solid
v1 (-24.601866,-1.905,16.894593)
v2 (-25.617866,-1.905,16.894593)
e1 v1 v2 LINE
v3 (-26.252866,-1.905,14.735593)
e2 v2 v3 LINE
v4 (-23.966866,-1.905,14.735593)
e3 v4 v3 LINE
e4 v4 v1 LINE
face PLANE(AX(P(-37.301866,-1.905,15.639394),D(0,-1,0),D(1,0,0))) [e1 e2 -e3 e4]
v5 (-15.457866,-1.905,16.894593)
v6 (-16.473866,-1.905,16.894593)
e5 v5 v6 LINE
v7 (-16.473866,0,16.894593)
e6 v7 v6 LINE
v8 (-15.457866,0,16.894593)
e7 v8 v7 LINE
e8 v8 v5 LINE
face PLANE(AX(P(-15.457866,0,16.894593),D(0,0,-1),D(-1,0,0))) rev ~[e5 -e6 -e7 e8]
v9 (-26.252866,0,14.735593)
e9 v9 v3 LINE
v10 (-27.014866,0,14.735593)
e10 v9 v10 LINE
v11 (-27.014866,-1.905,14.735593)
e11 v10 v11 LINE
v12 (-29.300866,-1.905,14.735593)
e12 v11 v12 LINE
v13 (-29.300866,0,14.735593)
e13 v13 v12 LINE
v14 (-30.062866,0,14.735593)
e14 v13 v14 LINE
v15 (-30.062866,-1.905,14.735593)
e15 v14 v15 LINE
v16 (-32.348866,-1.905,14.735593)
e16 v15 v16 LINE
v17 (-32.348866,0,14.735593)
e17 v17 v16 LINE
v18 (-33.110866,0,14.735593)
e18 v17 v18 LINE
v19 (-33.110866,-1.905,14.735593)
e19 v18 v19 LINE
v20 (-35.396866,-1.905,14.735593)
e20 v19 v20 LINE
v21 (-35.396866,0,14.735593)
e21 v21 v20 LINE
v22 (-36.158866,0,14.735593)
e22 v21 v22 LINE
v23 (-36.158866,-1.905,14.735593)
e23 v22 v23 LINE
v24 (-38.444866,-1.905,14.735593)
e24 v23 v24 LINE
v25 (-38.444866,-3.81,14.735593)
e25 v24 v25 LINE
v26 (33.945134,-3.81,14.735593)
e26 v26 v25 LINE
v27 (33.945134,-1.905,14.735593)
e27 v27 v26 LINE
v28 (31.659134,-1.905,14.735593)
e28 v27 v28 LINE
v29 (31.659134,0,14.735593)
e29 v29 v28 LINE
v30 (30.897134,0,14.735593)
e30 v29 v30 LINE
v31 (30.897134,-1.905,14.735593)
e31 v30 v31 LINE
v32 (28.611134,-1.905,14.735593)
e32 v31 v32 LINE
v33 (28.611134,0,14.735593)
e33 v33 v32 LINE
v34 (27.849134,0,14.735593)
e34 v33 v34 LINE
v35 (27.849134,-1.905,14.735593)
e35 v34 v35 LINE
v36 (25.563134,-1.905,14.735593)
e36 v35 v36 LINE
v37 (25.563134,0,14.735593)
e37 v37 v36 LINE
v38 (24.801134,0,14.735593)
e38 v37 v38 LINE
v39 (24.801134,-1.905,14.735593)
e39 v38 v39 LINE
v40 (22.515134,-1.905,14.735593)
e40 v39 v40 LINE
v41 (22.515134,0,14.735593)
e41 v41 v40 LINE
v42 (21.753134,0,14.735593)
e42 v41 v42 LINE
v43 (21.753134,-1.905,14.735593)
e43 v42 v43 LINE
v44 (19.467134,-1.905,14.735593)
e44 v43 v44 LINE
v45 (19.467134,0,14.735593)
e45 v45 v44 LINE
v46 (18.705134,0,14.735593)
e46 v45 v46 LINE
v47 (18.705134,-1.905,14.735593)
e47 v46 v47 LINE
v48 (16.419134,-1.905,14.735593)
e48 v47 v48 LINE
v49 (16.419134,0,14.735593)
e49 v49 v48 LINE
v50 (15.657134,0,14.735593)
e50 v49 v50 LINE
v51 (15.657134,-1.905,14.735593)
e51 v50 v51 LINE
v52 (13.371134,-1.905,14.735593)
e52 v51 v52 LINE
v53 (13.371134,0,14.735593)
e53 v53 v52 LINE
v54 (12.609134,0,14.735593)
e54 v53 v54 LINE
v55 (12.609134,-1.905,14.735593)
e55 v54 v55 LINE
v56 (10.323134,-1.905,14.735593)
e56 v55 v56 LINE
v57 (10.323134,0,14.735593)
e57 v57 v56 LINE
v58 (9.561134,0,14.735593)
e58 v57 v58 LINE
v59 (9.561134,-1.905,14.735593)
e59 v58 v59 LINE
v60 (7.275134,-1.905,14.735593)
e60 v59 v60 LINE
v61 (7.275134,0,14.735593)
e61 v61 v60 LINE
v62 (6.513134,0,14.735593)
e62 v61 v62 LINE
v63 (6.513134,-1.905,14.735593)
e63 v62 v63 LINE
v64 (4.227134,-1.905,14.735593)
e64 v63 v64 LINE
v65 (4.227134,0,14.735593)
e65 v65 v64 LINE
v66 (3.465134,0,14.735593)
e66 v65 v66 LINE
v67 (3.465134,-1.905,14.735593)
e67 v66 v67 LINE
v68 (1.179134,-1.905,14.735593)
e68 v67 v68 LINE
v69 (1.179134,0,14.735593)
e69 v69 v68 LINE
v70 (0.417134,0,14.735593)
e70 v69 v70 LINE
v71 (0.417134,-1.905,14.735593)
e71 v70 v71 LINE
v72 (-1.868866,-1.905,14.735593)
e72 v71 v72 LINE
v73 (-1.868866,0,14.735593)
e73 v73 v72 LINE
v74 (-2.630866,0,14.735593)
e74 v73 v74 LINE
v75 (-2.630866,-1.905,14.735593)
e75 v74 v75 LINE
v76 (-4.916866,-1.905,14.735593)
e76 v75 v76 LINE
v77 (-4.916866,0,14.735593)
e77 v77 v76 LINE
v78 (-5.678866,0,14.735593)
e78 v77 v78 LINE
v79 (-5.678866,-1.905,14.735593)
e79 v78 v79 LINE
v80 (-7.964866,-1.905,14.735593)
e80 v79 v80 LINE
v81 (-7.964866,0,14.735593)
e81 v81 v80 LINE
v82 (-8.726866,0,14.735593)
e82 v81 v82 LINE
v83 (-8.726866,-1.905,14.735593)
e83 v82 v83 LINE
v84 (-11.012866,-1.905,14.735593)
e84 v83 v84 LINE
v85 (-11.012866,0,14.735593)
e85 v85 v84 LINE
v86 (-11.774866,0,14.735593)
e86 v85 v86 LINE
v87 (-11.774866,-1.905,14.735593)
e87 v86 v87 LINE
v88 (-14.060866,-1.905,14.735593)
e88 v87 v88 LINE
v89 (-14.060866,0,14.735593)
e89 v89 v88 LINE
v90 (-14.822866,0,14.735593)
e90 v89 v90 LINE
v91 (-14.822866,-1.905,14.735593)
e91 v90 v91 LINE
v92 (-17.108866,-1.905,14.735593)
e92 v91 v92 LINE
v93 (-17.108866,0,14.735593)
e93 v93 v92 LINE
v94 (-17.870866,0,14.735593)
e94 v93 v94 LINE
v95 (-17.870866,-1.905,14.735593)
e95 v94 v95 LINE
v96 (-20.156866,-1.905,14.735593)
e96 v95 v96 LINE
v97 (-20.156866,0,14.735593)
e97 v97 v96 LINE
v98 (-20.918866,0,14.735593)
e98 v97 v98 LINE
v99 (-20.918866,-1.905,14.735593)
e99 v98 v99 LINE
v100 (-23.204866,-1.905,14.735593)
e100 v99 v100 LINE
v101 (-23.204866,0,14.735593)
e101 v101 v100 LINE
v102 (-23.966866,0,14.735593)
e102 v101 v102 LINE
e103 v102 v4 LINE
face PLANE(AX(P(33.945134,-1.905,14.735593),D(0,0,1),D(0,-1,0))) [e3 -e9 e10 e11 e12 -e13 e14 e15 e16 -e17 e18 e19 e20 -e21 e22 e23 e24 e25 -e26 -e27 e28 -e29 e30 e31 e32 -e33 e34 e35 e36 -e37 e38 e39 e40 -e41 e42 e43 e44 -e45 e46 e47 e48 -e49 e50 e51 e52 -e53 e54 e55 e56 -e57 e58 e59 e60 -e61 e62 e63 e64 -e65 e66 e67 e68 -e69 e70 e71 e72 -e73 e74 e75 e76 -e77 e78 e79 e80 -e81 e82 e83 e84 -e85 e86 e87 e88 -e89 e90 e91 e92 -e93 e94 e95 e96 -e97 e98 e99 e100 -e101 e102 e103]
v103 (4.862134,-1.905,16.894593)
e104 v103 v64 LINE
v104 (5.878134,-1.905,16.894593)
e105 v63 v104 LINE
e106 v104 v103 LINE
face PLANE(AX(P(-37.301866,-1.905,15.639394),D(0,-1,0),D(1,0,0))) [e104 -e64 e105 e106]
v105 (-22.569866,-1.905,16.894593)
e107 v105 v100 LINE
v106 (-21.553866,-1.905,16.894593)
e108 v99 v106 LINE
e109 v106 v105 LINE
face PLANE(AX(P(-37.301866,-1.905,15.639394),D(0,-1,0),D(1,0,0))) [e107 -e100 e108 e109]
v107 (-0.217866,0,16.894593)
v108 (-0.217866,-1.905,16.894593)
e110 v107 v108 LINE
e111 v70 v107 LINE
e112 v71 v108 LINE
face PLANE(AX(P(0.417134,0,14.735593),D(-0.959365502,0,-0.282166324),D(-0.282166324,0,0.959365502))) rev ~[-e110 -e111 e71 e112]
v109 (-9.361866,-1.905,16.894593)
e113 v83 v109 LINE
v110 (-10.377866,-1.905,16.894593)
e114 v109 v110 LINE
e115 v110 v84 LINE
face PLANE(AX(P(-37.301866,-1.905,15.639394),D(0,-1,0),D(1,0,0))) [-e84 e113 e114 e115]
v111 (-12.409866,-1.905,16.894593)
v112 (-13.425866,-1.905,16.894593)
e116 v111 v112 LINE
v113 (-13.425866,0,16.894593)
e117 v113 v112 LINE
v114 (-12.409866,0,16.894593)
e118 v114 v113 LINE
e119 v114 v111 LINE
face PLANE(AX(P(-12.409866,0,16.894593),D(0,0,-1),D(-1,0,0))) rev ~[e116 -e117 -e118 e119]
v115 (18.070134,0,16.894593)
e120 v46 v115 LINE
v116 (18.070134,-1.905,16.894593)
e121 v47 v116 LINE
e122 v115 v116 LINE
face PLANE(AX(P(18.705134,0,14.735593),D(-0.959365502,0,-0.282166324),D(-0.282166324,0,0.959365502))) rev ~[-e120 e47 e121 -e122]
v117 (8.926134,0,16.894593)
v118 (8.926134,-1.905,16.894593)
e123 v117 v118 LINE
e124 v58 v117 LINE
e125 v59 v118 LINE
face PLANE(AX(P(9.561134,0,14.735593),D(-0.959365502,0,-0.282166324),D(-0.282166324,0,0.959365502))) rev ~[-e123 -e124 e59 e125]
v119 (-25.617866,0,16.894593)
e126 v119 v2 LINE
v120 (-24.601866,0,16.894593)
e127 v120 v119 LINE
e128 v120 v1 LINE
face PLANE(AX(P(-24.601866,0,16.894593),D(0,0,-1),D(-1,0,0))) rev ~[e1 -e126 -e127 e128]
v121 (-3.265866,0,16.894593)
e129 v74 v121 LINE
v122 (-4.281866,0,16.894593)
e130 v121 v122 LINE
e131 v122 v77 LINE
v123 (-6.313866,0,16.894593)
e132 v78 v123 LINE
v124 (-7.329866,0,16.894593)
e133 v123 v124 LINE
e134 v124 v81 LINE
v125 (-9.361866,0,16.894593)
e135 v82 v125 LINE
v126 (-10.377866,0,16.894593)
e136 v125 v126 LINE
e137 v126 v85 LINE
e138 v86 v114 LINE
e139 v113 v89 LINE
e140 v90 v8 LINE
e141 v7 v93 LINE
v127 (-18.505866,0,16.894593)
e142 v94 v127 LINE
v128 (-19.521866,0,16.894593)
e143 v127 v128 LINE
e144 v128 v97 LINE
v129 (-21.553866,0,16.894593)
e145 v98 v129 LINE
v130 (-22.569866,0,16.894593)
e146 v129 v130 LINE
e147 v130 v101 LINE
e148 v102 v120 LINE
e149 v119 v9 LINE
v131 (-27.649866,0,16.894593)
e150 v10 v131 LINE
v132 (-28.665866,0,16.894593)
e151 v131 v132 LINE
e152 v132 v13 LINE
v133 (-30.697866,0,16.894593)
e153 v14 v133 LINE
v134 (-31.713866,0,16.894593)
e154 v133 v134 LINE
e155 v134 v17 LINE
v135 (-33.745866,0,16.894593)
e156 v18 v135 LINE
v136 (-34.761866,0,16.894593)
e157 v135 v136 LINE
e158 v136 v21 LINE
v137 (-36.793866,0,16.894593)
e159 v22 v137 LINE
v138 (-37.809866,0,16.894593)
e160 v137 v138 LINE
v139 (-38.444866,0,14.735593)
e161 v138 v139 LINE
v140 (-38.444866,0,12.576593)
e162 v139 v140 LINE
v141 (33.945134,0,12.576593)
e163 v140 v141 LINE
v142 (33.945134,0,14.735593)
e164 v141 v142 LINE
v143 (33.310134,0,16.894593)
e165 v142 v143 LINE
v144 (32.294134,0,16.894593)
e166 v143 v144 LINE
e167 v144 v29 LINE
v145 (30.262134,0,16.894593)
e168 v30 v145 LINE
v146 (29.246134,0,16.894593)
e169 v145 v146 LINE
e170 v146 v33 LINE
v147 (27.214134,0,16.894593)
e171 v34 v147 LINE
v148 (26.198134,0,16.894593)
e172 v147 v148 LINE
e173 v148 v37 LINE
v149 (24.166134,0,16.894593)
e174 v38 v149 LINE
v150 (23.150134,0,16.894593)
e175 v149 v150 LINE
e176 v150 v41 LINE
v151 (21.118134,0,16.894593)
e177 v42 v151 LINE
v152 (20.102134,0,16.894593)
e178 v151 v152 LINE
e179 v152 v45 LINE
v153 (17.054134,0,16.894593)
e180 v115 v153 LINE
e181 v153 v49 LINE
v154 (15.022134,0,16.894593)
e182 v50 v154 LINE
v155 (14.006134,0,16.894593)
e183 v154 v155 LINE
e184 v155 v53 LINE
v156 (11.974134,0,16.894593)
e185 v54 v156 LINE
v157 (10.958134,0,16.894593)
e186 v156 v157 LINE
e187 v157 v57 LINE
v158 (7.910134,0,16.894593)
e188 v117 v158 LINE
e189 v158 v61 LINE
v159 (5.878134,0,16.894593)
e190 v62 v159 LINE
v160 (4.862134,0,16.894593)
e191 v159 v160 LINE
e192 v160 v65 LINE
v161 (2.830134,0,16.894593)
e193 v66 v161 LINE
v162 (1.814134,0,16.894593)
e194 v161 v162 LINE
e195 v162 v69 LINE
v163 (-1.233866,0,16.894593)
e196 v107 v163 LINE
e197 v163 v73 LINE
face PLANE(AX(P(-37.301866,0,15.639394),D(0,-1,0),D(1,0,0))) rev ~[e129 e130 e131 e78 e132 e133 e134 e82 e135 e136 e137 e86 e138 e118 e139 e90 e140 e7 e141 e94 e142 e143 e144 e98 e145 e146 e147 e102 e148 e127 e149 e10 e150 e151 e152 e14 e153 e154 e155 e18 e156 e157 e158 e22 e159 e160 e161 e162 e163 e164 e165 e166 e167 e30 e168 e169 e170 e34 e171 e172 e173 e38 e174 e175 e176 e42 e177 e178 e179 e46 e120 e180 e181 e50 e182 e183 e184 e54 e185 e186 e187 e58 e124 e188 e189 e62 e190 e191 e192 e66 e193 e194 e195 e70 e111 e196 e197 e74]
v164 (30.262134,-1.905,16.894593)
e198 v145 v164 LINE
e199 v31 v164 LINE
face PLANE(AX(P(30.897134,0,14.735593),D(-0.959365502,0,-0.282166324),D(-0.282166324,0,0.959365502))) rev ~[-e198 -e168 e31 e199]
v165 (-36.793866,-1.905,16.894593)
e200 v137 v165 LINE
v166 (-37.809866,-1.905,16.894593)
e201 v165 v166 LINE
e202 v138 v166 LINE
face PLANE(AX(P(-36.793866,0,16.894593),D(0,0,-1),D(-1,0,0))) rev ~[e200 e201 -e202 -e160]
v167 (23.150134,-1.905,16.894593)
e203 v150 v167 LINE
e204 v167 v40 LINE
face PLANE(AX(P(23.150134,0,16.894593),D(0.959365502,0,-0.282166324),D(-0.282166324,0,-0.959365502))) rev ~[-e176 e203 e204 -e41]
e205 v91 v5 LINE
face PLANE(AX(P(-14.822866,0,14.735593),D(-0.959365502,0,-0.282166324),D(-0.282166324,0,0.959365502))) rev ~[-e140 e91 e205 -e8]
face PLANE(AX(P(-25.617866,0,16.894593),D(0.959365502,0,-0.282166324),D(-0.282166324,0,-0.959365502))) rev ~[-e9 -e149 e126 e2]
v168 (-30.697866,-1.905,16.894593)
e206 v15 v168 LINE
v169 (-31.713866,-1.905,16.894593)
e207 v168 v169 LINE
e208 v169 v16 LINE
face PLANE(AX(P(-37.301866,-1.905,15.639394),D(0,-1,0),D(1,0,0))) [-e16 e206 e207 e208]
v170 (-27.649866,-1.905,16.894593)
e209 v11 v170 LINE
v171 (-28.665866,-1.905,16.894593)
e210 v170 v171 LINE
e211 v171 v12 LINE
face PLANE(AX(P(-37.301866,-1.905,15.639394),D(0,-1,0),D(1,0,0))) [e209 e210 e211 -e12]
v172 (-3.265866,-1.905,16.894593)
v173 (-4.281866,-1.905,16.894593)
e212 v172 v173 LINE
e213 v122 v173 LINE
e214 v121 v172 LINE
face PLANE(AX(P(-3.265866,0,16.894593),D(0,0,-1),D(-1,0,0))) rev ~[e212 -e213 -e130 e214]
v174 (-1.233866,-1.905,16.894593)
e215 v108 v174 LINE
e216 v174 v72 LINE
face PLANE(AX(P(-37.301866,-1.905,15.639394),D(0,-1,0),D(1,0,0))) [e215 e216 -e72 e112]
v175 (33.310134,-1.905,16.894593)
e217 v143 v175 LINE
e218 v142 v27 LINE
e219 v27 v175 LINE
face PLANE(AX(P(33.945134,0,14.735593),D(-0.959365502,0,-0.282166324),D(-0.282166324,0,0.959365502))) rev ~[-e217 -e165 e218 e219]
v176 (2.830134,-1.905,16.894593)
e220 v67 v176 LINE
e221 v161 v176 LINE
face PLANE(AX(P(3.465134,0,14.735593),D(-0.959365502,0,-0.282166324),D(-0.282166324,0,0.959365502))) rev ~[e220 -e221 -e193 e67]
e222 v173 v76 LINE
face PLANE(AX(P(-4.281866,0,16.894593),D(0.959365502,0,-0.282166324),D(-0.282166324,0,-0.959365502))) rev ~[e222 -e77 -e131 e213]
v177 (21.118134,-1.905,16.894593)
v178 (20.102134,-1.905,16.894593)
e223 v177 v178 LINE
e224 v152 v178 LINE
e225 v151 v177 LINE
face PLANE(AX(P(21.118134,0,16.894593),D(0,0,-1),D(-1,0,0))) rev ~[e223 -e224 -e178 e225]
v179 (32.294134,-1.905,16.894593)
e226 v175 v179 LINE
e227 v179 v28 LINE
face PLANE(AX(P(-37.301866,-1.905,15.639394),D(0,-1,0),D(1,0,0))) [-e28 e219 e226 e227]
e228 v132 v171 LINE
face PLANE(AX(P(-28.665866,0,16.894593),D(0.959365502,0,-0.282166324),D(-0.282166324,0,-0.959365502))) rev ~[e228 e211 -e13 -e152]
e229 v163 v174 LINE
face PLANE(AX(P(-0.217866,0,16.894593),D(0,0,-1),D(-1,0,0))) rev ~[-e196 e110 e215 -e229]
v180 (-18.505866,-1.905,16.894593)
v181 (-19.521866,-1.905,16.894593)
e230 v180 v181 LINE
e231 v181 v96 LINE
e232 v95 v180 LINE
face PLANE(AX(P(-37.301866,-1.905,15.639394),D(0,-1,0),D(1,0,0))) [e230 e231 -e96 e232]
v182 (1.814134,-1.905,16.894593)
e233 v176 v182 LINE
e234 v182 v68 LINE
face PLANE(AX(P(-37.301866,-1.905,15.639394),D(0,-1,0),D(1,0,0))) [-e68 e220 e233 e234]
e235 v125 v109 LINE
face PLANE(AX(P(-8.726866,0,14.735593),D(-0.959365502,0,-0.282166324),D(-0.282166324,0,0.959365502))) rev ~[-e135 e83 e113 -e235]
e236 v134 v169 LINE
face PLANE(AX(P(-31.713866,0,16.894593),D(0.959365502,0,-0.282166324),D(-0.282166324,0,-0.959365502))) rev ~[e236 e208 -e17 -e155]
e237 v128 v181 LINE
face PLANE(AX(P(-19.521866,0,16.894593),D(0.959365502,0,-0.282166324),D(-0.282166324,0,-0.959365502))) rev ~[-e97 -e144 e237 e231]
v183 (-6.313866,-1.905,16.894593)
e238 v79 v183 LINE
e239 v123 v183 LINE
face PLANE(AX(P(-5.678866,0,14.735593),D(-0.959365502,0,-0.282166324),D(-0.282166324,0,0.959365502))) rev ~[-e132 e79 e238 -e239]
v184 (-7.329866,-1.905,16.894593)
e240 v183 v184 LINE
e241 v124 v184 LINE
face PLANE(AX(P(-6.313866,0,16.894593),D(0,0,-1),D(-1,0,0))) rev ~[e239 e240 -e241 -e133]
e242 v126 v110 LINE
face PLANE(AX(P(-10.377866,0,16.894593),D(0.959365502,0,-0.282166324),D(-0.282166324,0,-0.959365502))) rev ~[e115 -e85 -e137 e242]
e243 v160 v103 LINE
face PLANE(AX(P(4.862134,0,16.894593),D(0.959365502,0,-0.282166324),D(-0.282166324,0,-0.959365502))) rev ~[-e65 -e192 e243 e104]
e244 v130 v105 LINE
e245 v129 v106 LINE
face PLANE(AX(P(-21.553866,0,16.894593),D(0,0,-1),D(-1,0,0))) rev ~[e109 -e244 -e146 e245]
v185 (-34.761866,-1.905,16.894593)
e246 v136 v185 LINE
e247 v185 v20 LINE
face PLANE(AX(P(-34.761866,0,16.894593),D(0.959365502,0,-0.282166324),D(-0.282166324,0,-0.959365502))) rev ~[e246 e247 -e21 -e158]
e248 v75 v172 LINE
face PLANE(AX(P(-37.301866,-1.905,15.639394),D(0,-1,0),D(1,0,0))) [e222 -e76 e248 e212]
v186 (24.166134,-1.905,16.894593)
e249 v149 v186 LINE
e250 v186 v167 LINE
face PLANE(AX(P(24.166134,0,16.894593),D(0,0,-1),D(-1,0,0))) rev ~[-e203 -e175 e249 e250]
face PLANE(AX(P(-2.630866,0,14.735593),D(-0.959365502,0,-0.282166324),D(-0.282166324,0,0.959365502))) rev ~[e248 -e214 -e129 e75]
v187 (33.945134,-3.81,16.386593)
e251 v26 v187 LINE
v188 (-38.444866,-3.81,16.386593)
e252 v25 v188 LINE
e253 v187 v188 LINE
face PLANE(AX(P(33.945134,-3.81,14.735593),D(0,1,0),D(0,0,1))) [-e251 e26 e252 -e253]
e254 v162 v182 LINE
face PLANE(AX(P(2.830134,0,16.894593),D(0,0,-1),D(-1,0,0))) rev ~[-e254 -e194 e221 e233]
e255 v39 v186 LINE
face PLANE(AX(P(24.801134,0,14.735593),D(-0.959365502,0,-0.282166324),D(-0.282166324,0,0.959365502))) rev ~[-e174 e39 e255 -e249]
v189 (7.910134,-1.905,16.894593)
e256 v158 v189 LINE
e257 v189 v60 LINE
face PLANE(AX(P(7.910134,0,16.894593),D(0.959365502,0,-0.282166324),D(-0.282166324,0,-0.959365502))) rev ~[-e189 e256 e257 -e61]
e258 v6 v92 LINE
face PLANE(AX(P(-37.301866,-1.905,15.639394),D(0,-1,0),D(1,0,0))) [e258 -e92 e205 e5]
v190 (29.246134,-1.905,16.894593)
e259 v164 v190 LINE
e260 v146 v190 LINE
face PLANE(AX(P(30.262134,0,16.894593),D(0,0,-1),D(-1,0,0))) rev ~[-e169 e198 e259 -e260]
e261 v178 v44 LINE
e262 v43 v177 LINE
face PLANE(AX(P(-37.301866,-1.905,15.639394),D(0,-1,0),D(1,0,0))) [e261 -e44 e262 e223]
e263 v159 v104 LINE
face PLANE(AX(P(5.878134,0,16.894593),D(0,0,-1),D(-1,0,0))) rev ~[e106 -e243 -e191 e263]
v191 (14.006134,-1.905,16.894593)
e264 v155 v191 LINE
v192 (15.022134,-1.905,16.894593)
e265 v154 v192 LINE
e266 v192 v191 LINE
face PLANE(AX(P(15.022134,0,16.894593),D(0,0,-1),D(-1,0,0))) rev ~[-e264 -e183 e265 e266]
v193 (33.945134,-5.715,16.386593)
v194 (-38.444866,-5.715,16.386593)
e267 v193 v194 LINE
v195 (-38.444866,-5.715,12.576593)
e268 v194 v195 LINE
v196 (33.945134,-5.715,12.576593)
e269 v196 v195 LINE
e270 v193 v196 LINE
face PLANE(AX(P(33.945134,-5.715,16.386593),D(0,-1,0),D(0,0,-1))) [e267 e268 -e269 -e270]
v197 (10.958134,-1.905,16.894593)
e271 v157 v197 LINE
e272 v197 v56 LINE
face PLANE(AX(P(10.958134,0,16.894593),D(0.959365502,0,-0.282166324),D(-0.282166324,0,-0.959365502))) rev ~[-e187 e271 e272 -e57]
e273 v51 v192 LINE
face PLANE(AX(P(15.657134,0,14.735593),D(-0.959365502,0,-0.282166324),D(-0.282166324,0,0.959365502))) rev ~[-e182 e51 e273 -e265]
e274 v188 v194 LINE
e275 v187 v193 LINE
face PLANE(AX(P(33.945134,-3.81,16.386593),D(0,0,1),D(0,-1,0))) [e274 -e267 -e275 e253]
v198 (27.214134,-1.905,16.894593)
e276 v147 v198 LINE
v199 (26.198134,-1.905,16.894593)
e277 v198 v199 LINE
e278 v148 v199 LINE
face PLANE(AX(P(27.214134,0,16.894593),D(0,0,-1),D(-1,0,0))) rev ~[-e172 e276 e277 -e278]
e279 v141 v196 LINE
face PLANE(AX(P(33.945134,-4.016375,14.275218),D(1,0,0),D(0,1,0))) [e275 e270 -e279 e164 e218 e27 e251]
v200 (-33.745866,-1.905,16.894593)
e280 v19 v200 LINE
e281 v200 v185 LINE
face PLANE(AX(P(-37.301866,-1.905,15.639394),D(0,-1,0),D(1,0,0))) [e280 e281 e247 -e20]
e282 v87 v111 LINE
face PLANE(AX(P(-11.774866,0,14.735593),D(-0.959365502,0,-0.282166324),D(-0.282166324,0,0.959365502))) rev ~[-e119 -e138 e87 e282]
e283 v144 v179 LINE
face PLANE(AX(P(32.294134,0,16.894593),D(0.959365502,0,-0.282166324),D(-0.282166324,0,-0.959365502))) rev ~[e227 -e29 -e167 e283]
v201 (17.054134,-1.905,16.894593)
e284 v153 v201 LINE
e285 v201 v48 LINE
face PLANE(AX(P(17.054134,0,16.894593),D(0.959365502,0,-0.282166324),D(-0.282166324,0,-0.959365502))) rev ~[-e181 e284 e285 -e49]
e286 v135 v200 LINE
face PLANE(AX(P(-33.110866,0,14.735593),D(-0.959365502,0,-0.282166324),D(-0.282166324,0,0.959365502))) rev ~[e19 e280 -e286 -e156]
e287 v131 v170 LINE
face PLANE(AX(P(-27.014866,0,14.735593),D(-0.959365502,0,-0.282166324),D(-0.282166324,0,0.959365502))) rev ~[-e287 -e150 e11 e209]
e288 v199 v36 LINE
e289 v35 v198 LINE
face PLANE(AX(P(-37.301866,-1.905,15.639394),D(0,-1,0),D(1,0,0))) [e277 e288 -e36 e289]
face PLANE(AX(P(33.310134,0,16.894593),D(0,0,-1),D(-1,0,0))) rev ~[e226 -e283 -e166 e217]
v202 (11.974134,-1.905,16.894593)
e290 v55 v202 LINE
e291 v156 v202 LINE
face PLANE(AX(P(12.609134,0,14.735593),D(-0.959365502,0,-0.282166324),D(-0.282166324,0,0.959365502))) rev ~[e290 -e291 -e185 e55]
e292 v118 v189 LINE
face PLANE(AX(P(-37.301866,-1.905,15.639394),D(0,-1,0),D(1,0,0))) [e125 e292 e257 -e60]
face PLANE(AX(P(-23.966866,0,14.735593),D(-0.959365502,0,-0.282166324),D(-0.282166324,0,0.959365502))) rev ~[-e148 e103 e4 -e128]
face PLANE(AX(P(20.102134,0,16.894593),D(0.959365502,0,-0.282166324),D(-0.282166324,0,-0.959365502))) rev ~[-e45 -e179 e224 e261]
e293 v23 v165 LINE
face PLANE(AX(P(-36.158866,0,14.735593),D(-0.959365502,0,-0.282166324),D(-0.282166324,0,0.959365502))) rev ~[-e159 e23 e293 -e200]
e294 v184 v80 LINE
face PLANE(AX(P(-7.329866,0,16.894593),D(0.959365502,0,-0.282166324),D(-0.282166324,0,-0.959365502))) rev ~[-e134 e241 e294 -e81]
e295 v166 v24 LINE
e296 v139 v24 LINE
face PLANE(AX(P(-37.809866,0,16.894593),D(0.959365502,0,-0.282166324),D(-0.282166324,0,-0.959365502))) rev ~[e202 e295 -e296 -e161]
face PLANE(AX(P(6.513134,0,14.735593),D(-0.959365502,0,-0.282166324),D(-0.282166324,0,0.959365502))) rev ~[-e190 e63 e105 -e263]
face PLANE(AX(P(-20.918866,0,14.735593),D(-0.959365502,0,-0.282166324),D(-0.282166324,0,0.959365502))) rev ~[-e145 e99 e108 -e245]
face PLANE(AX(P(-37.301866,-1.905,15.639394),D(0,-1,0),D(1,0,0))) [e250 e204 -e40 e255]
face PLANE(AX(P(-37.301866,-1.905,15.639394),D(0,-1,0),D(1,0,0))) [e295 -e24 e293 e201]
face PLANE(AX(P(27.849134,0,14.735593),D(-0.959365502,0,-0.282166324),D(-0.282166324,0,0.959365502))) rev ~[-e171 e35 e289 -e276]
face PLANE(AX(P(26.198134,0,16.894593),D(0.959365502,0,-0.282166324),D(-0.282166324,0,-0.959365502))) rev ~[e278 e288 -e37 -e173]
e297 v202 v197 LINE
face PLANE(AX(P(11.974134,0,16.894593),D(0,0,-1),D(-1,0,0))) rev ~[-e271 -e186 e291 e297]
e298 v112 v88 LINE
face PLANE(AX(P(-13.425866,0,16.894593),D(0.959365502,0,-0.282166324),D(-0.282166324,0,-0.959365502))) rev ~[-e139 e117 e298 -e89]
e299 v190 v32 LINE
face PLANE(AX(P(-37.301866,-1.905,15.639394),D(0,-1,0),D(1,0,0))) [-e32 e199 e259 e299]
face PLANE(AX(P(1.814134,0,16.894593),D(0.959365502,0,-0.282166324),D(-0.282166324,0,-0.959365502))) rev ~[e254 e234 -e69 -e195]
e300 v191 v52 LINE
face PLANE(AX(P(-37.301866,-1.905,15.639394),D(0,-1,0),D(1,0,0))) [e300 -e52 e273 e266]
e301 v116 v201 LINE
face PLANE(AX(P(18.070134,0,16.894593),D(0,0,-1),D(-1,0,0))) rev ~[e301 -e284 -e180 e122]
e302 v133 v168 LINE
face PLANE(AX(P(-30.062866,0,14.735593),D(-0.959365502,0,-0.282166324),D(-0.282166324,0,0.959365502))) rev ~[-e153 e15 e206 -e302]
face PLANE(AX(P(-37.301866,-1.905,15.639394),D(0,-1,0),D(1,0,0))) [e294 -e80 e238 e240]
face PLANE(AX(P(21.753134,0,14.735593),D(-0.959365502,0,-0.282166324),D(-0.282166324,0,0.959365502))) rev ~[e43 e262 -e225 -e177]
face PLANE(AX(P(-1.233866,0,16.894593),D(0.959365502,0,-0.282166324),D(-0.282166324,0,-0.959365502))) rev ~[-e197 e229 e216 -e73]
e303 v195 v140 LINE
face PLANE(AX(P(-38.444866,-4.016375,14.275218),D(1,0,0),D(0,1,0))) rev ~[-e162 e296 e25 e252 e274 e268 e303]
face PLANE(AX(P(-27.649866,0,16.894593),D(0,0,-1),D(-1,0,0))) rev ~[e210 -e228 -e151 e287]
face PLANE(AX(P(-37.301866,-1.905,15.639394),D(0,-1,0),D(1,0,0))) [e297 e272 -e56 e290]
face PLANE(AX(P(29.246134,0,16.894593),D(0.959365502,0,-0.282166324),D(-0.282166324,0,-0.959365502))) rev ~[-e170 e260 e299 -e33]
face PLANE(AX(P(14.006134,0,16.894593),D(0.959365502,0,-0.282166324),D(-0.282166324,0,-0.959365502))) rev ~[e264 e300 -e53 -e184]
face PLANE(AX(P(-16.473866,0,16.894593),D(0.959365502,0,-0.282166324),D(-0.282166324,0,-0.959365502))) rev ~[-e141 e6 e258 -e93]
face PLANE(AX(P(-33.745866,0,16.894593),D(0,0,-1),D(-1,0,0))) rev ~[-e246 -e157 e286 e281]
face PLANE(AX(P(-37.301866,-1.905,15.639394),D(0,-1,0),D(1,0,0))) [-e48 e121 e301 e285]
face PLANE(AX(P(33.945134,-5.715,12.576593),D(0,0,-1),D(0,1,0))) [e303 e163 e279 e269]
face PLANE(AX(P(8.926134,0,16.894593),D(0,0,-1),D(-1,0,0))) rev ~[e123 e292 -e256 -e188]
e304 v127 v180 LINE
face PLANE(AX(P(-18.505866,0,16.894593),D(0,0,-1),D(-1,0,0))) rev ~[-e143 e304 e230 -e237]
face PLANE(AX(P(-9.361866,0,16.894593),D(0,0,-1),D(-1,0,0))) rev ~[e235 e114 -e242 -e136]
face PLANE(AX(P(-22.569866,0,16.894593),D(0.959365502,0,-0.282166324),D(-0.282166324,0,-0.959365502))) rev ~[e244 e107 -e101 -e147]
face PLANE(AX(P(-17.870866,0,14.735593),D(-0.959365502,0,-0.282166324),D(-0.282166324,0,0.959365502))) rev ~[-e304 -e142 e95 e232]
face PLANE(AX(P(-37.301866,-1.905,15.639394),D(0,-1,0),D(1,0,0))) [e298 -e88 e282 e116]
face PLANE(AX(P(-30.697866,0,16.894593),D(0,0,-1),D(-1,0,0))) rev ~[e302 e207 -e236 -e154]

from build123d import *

# Parameters (mm, degrees)
F1_DEPTH = 3.81
F4_DEPTH = 144.78
F5_SCALE = 0.5


with BuildPart() as f1:
    # F0 (on Front) → F1 (new body)
    with BuildSketch(Plane.XZ):
        Polygon((-37.1748663006, 21.2125933835), (-38.4448663006, 16.8945933835), (-33.8728663006, 16.8945933835), (-35.1428663006, 21.2125933835), align=None)
        Polygon((-33.8728663006, 16.8945933835), (-38.4448663006, 16.8945933835), (-38.4448663006, 12.5765933835), (106.3351336994, 12.5765933835), (106.3351336994, 16.8945933835), (101.7631336994, 16.8945933835), (100.2391336994, 16.8945933835), (95.6671336994, 16.8945933835), (94.1431336994, 16.8945933835), (89.5711336994, 16.8945933835), (88.0471336994, 16.8945933835), (83.4751336994, 16.8945933835), (81.9511336994, 16.8945933835), (77.3791336994, 16.8945933835), (75.8551336994, 16.8945933835), (71.2831336994, 16.8945933835), (69.7591336994, 16.8945933835), (65.1871336994, 16.8945933835), (63.6631336994, 16.8945933835), (59.0911336994, 16.8945933835), (57.5671336994, 16.8945933835), (52.9951336994, 16.8945933835), (51.4711336994, 16.8945933835), (46.8991336994, 16.8945933835), (45.3751336994, 16.8945933835), (40.8031336994, 16.8945933835), (39.2791336994, 16.8945933835), (34.7071336994, 16.8945933835), (33.1831336994, 16.8945933835), (28.6111336994, 16.8945933835), (27.0871336994, 16.8945933835), (22.5151336994, 16.8945933835), (20.9911336994, 16.8945933835), (16.4191336994, 16.8945933835), (14.8951336994, 16.8945933835), (10.3231336994, 16.8945933835), (8.7991336994, 16.8945933835), (4.2271336994, 16.8945933835), (2.7031336994, 16.8945933835), (-1.8688663006, 16.8945933835), (-3.3928663006, 16.8945933835), (-7.9648663006, 16.8945933835), (-9.4888663006, 16.8945933835), (-14.0608663006, 16.8945933835), (-15.5848663006, 16.8945933835), (-20.1568663006, 16.8945933835), (-21.6808663006, 16.8945933835), (-26.2528663006, 16.8945933835), (-27.7768663006, 16.8945933835), (-32.3488663006, 16.8945933835), align=None)
        Polygon((-31.0788663006, 21.2125933835), (-32.3488663006, 16.8945933835), (-27.7768663006, 16.8945933835), (-29.0468663006, 21.2125933835), align=None)
        Polygon((101.7631336994, 16.8945933835), (106.3351336994, 16.8945933835), (105.0651336994, 21.2125933835), (103.0331336994, 21.2125933835), align=None)
        Polygon((-24.9828663006, 21.2125933835), (-26.2528663006, 16.8945933835), (-21.6808663006, 16.8945933835), (-22.9508663006, 21.2125933835), align=None)
        Polygon((95.6671336994, 16.8945933835), (100.2391336994, 16.8945933835), (98.9691336994, 21.2125933835), (96.9371336994, 21.2125933835), align=None)
        Polygon((-18.8868663006, 21.2125933835), (-20.1568663006, 16.8945933835), (-15.5848663006, 16.8945933835), (-16.8548663006, 21.2125933835), align=None)
        Polygon((89.5711336994, 16.8945933835), (94.1431336994, 16.8945933835), (92.8731336994, 21.2125933835), (90.8411336994, 21.2125933835), align=None)
        Polygon((-12.7908663006, 21.2125933835), (-14.0608663006, 16.8945933835), (-9.4888663006, 16.8945933835), (-10.7588663006, 21.2125933835), align=None)
        Polygon((83.4751336994, 16.8945933835), (88.0471336994, 16.8945933835), (86.7771336994, 21.2125933835), (84.7451336994, 21.2125933835), align=None)
        Polygon((-6.6948663006, 21.2125933835), (-7.9648663006, 16.8945933835), (-3.3928663006, 16.8945933835), (-4.6628663006, 21.2125933835), align=None)
        Polygon((77.3791336994, 16.8945933835), (81.9511336994, 16.8945933835), (80.6811336994, 21.2125933835), (78.6491336994, 21.2125933835), align=None)
        Polygon((-0.5988663006, 21.2125933835), (-1.8688663006, 16.8945933835), (2.7031336994, 16.8945933835), (1.4331336994, 21.2125933835), align=None)
        Polygon((71.2831336994, 16.8945933835), (75.8551336994, 16.8945933835), (74.5851336994, 21.2125933835), (72.5531336994, 21.2125933835), align=None)
        Polygon((5.4971336994, 21.2125933835), (4.2271336994, 16.8945933835), (8.7991336994, 16.8945933835), (7.5291336994, 21.2125933835), align=None)
        Polygon((65.1871336994, 16.8945933835), (69.7591336994, 16.8945933835), (68.4891336994, 21.2125933835), (66.4571336994, 21.2125933835), align=None)
        Polygon((11.5931336994, 21.2125933835), (10.3231336994, 16.8945933835), (14.8951336994, 16.8945933835), (13.6251336994, 21.2125933835), align=None)
        Polygon((59.0911336994, 16.8945933835), (63.6631336994, 16.8945933835), (62.3931336994, 21.2125933835), (60.3611336994, 21.2125933835), align=None)
        Polygon((17.6891336994, 21.2125933835), (16.4191336994, 16.8945933835), (20.9911336994, 16.8945933835), (19.7211336994, 21.2125933835), align=None)
        Polygon((52.9951336994, 16.8945933835), (57.5671336994, 16.8945933835), (56.2971336994, 21.2125933835), (54.2651336994, 21.2125933835), align=None)
        Polygon((23.7851336994, 21.2125933835), (22.5151336994, 16.8945933835), (27.0871336994, 16.8945933835), (25.8171336994, 21.2125933835), align=None)
        Polygon((46.8991336994, 16.8945933835), (51.4711336994, 16.8945933835), (50.2011336994, 21.2125933835), (48.1691336994, 21.2125933835), align=None)
        Polygon((29.8811336994, 21.2125933835), (28.6111336994, 16.8945933835), (33.1831336994, 16.8945933835), (31.9131336994, 21.2125933835), align=None)
        Polygon((40.8031336994, 16.8945933835), (45.3751336994, 16.8945933835), (44.1051336994, 21.2125933835), (42.0731336994, 21.2125933835), align=None)
        Polygon((35.9771336994, 21.2125933835), (34.7071336994, 16.8945933835), (39.2791336994, 16.8945933835), (38.0091336994, 21.2125933835), align=None)
    extrude(amount=F1_DEPTH)

    # F3 (on plane+point) → F4 (join, through all)
    with BuildSketch(Plane.YZ.offset(106.3351336994)):
        Polygon((-11.43, 20.1965933835), (-11.43, 16.3865933835), (-11.43, 12.5765933835), (-3.81, 12.5765933835), (-3.81, 16.8945933835), (-7.62, 16.8945933835), (-7.62, 20.1965933835), align=None)
    extrude(amount=-F4_DEPTH)


with BuildPart() as f1_1:
    # F5: moved
    add(f1.part.scale(F5_SCALE).moved(Location((-19.2224331503, 0, 6.2882966917))))


solid = f1_1.part
